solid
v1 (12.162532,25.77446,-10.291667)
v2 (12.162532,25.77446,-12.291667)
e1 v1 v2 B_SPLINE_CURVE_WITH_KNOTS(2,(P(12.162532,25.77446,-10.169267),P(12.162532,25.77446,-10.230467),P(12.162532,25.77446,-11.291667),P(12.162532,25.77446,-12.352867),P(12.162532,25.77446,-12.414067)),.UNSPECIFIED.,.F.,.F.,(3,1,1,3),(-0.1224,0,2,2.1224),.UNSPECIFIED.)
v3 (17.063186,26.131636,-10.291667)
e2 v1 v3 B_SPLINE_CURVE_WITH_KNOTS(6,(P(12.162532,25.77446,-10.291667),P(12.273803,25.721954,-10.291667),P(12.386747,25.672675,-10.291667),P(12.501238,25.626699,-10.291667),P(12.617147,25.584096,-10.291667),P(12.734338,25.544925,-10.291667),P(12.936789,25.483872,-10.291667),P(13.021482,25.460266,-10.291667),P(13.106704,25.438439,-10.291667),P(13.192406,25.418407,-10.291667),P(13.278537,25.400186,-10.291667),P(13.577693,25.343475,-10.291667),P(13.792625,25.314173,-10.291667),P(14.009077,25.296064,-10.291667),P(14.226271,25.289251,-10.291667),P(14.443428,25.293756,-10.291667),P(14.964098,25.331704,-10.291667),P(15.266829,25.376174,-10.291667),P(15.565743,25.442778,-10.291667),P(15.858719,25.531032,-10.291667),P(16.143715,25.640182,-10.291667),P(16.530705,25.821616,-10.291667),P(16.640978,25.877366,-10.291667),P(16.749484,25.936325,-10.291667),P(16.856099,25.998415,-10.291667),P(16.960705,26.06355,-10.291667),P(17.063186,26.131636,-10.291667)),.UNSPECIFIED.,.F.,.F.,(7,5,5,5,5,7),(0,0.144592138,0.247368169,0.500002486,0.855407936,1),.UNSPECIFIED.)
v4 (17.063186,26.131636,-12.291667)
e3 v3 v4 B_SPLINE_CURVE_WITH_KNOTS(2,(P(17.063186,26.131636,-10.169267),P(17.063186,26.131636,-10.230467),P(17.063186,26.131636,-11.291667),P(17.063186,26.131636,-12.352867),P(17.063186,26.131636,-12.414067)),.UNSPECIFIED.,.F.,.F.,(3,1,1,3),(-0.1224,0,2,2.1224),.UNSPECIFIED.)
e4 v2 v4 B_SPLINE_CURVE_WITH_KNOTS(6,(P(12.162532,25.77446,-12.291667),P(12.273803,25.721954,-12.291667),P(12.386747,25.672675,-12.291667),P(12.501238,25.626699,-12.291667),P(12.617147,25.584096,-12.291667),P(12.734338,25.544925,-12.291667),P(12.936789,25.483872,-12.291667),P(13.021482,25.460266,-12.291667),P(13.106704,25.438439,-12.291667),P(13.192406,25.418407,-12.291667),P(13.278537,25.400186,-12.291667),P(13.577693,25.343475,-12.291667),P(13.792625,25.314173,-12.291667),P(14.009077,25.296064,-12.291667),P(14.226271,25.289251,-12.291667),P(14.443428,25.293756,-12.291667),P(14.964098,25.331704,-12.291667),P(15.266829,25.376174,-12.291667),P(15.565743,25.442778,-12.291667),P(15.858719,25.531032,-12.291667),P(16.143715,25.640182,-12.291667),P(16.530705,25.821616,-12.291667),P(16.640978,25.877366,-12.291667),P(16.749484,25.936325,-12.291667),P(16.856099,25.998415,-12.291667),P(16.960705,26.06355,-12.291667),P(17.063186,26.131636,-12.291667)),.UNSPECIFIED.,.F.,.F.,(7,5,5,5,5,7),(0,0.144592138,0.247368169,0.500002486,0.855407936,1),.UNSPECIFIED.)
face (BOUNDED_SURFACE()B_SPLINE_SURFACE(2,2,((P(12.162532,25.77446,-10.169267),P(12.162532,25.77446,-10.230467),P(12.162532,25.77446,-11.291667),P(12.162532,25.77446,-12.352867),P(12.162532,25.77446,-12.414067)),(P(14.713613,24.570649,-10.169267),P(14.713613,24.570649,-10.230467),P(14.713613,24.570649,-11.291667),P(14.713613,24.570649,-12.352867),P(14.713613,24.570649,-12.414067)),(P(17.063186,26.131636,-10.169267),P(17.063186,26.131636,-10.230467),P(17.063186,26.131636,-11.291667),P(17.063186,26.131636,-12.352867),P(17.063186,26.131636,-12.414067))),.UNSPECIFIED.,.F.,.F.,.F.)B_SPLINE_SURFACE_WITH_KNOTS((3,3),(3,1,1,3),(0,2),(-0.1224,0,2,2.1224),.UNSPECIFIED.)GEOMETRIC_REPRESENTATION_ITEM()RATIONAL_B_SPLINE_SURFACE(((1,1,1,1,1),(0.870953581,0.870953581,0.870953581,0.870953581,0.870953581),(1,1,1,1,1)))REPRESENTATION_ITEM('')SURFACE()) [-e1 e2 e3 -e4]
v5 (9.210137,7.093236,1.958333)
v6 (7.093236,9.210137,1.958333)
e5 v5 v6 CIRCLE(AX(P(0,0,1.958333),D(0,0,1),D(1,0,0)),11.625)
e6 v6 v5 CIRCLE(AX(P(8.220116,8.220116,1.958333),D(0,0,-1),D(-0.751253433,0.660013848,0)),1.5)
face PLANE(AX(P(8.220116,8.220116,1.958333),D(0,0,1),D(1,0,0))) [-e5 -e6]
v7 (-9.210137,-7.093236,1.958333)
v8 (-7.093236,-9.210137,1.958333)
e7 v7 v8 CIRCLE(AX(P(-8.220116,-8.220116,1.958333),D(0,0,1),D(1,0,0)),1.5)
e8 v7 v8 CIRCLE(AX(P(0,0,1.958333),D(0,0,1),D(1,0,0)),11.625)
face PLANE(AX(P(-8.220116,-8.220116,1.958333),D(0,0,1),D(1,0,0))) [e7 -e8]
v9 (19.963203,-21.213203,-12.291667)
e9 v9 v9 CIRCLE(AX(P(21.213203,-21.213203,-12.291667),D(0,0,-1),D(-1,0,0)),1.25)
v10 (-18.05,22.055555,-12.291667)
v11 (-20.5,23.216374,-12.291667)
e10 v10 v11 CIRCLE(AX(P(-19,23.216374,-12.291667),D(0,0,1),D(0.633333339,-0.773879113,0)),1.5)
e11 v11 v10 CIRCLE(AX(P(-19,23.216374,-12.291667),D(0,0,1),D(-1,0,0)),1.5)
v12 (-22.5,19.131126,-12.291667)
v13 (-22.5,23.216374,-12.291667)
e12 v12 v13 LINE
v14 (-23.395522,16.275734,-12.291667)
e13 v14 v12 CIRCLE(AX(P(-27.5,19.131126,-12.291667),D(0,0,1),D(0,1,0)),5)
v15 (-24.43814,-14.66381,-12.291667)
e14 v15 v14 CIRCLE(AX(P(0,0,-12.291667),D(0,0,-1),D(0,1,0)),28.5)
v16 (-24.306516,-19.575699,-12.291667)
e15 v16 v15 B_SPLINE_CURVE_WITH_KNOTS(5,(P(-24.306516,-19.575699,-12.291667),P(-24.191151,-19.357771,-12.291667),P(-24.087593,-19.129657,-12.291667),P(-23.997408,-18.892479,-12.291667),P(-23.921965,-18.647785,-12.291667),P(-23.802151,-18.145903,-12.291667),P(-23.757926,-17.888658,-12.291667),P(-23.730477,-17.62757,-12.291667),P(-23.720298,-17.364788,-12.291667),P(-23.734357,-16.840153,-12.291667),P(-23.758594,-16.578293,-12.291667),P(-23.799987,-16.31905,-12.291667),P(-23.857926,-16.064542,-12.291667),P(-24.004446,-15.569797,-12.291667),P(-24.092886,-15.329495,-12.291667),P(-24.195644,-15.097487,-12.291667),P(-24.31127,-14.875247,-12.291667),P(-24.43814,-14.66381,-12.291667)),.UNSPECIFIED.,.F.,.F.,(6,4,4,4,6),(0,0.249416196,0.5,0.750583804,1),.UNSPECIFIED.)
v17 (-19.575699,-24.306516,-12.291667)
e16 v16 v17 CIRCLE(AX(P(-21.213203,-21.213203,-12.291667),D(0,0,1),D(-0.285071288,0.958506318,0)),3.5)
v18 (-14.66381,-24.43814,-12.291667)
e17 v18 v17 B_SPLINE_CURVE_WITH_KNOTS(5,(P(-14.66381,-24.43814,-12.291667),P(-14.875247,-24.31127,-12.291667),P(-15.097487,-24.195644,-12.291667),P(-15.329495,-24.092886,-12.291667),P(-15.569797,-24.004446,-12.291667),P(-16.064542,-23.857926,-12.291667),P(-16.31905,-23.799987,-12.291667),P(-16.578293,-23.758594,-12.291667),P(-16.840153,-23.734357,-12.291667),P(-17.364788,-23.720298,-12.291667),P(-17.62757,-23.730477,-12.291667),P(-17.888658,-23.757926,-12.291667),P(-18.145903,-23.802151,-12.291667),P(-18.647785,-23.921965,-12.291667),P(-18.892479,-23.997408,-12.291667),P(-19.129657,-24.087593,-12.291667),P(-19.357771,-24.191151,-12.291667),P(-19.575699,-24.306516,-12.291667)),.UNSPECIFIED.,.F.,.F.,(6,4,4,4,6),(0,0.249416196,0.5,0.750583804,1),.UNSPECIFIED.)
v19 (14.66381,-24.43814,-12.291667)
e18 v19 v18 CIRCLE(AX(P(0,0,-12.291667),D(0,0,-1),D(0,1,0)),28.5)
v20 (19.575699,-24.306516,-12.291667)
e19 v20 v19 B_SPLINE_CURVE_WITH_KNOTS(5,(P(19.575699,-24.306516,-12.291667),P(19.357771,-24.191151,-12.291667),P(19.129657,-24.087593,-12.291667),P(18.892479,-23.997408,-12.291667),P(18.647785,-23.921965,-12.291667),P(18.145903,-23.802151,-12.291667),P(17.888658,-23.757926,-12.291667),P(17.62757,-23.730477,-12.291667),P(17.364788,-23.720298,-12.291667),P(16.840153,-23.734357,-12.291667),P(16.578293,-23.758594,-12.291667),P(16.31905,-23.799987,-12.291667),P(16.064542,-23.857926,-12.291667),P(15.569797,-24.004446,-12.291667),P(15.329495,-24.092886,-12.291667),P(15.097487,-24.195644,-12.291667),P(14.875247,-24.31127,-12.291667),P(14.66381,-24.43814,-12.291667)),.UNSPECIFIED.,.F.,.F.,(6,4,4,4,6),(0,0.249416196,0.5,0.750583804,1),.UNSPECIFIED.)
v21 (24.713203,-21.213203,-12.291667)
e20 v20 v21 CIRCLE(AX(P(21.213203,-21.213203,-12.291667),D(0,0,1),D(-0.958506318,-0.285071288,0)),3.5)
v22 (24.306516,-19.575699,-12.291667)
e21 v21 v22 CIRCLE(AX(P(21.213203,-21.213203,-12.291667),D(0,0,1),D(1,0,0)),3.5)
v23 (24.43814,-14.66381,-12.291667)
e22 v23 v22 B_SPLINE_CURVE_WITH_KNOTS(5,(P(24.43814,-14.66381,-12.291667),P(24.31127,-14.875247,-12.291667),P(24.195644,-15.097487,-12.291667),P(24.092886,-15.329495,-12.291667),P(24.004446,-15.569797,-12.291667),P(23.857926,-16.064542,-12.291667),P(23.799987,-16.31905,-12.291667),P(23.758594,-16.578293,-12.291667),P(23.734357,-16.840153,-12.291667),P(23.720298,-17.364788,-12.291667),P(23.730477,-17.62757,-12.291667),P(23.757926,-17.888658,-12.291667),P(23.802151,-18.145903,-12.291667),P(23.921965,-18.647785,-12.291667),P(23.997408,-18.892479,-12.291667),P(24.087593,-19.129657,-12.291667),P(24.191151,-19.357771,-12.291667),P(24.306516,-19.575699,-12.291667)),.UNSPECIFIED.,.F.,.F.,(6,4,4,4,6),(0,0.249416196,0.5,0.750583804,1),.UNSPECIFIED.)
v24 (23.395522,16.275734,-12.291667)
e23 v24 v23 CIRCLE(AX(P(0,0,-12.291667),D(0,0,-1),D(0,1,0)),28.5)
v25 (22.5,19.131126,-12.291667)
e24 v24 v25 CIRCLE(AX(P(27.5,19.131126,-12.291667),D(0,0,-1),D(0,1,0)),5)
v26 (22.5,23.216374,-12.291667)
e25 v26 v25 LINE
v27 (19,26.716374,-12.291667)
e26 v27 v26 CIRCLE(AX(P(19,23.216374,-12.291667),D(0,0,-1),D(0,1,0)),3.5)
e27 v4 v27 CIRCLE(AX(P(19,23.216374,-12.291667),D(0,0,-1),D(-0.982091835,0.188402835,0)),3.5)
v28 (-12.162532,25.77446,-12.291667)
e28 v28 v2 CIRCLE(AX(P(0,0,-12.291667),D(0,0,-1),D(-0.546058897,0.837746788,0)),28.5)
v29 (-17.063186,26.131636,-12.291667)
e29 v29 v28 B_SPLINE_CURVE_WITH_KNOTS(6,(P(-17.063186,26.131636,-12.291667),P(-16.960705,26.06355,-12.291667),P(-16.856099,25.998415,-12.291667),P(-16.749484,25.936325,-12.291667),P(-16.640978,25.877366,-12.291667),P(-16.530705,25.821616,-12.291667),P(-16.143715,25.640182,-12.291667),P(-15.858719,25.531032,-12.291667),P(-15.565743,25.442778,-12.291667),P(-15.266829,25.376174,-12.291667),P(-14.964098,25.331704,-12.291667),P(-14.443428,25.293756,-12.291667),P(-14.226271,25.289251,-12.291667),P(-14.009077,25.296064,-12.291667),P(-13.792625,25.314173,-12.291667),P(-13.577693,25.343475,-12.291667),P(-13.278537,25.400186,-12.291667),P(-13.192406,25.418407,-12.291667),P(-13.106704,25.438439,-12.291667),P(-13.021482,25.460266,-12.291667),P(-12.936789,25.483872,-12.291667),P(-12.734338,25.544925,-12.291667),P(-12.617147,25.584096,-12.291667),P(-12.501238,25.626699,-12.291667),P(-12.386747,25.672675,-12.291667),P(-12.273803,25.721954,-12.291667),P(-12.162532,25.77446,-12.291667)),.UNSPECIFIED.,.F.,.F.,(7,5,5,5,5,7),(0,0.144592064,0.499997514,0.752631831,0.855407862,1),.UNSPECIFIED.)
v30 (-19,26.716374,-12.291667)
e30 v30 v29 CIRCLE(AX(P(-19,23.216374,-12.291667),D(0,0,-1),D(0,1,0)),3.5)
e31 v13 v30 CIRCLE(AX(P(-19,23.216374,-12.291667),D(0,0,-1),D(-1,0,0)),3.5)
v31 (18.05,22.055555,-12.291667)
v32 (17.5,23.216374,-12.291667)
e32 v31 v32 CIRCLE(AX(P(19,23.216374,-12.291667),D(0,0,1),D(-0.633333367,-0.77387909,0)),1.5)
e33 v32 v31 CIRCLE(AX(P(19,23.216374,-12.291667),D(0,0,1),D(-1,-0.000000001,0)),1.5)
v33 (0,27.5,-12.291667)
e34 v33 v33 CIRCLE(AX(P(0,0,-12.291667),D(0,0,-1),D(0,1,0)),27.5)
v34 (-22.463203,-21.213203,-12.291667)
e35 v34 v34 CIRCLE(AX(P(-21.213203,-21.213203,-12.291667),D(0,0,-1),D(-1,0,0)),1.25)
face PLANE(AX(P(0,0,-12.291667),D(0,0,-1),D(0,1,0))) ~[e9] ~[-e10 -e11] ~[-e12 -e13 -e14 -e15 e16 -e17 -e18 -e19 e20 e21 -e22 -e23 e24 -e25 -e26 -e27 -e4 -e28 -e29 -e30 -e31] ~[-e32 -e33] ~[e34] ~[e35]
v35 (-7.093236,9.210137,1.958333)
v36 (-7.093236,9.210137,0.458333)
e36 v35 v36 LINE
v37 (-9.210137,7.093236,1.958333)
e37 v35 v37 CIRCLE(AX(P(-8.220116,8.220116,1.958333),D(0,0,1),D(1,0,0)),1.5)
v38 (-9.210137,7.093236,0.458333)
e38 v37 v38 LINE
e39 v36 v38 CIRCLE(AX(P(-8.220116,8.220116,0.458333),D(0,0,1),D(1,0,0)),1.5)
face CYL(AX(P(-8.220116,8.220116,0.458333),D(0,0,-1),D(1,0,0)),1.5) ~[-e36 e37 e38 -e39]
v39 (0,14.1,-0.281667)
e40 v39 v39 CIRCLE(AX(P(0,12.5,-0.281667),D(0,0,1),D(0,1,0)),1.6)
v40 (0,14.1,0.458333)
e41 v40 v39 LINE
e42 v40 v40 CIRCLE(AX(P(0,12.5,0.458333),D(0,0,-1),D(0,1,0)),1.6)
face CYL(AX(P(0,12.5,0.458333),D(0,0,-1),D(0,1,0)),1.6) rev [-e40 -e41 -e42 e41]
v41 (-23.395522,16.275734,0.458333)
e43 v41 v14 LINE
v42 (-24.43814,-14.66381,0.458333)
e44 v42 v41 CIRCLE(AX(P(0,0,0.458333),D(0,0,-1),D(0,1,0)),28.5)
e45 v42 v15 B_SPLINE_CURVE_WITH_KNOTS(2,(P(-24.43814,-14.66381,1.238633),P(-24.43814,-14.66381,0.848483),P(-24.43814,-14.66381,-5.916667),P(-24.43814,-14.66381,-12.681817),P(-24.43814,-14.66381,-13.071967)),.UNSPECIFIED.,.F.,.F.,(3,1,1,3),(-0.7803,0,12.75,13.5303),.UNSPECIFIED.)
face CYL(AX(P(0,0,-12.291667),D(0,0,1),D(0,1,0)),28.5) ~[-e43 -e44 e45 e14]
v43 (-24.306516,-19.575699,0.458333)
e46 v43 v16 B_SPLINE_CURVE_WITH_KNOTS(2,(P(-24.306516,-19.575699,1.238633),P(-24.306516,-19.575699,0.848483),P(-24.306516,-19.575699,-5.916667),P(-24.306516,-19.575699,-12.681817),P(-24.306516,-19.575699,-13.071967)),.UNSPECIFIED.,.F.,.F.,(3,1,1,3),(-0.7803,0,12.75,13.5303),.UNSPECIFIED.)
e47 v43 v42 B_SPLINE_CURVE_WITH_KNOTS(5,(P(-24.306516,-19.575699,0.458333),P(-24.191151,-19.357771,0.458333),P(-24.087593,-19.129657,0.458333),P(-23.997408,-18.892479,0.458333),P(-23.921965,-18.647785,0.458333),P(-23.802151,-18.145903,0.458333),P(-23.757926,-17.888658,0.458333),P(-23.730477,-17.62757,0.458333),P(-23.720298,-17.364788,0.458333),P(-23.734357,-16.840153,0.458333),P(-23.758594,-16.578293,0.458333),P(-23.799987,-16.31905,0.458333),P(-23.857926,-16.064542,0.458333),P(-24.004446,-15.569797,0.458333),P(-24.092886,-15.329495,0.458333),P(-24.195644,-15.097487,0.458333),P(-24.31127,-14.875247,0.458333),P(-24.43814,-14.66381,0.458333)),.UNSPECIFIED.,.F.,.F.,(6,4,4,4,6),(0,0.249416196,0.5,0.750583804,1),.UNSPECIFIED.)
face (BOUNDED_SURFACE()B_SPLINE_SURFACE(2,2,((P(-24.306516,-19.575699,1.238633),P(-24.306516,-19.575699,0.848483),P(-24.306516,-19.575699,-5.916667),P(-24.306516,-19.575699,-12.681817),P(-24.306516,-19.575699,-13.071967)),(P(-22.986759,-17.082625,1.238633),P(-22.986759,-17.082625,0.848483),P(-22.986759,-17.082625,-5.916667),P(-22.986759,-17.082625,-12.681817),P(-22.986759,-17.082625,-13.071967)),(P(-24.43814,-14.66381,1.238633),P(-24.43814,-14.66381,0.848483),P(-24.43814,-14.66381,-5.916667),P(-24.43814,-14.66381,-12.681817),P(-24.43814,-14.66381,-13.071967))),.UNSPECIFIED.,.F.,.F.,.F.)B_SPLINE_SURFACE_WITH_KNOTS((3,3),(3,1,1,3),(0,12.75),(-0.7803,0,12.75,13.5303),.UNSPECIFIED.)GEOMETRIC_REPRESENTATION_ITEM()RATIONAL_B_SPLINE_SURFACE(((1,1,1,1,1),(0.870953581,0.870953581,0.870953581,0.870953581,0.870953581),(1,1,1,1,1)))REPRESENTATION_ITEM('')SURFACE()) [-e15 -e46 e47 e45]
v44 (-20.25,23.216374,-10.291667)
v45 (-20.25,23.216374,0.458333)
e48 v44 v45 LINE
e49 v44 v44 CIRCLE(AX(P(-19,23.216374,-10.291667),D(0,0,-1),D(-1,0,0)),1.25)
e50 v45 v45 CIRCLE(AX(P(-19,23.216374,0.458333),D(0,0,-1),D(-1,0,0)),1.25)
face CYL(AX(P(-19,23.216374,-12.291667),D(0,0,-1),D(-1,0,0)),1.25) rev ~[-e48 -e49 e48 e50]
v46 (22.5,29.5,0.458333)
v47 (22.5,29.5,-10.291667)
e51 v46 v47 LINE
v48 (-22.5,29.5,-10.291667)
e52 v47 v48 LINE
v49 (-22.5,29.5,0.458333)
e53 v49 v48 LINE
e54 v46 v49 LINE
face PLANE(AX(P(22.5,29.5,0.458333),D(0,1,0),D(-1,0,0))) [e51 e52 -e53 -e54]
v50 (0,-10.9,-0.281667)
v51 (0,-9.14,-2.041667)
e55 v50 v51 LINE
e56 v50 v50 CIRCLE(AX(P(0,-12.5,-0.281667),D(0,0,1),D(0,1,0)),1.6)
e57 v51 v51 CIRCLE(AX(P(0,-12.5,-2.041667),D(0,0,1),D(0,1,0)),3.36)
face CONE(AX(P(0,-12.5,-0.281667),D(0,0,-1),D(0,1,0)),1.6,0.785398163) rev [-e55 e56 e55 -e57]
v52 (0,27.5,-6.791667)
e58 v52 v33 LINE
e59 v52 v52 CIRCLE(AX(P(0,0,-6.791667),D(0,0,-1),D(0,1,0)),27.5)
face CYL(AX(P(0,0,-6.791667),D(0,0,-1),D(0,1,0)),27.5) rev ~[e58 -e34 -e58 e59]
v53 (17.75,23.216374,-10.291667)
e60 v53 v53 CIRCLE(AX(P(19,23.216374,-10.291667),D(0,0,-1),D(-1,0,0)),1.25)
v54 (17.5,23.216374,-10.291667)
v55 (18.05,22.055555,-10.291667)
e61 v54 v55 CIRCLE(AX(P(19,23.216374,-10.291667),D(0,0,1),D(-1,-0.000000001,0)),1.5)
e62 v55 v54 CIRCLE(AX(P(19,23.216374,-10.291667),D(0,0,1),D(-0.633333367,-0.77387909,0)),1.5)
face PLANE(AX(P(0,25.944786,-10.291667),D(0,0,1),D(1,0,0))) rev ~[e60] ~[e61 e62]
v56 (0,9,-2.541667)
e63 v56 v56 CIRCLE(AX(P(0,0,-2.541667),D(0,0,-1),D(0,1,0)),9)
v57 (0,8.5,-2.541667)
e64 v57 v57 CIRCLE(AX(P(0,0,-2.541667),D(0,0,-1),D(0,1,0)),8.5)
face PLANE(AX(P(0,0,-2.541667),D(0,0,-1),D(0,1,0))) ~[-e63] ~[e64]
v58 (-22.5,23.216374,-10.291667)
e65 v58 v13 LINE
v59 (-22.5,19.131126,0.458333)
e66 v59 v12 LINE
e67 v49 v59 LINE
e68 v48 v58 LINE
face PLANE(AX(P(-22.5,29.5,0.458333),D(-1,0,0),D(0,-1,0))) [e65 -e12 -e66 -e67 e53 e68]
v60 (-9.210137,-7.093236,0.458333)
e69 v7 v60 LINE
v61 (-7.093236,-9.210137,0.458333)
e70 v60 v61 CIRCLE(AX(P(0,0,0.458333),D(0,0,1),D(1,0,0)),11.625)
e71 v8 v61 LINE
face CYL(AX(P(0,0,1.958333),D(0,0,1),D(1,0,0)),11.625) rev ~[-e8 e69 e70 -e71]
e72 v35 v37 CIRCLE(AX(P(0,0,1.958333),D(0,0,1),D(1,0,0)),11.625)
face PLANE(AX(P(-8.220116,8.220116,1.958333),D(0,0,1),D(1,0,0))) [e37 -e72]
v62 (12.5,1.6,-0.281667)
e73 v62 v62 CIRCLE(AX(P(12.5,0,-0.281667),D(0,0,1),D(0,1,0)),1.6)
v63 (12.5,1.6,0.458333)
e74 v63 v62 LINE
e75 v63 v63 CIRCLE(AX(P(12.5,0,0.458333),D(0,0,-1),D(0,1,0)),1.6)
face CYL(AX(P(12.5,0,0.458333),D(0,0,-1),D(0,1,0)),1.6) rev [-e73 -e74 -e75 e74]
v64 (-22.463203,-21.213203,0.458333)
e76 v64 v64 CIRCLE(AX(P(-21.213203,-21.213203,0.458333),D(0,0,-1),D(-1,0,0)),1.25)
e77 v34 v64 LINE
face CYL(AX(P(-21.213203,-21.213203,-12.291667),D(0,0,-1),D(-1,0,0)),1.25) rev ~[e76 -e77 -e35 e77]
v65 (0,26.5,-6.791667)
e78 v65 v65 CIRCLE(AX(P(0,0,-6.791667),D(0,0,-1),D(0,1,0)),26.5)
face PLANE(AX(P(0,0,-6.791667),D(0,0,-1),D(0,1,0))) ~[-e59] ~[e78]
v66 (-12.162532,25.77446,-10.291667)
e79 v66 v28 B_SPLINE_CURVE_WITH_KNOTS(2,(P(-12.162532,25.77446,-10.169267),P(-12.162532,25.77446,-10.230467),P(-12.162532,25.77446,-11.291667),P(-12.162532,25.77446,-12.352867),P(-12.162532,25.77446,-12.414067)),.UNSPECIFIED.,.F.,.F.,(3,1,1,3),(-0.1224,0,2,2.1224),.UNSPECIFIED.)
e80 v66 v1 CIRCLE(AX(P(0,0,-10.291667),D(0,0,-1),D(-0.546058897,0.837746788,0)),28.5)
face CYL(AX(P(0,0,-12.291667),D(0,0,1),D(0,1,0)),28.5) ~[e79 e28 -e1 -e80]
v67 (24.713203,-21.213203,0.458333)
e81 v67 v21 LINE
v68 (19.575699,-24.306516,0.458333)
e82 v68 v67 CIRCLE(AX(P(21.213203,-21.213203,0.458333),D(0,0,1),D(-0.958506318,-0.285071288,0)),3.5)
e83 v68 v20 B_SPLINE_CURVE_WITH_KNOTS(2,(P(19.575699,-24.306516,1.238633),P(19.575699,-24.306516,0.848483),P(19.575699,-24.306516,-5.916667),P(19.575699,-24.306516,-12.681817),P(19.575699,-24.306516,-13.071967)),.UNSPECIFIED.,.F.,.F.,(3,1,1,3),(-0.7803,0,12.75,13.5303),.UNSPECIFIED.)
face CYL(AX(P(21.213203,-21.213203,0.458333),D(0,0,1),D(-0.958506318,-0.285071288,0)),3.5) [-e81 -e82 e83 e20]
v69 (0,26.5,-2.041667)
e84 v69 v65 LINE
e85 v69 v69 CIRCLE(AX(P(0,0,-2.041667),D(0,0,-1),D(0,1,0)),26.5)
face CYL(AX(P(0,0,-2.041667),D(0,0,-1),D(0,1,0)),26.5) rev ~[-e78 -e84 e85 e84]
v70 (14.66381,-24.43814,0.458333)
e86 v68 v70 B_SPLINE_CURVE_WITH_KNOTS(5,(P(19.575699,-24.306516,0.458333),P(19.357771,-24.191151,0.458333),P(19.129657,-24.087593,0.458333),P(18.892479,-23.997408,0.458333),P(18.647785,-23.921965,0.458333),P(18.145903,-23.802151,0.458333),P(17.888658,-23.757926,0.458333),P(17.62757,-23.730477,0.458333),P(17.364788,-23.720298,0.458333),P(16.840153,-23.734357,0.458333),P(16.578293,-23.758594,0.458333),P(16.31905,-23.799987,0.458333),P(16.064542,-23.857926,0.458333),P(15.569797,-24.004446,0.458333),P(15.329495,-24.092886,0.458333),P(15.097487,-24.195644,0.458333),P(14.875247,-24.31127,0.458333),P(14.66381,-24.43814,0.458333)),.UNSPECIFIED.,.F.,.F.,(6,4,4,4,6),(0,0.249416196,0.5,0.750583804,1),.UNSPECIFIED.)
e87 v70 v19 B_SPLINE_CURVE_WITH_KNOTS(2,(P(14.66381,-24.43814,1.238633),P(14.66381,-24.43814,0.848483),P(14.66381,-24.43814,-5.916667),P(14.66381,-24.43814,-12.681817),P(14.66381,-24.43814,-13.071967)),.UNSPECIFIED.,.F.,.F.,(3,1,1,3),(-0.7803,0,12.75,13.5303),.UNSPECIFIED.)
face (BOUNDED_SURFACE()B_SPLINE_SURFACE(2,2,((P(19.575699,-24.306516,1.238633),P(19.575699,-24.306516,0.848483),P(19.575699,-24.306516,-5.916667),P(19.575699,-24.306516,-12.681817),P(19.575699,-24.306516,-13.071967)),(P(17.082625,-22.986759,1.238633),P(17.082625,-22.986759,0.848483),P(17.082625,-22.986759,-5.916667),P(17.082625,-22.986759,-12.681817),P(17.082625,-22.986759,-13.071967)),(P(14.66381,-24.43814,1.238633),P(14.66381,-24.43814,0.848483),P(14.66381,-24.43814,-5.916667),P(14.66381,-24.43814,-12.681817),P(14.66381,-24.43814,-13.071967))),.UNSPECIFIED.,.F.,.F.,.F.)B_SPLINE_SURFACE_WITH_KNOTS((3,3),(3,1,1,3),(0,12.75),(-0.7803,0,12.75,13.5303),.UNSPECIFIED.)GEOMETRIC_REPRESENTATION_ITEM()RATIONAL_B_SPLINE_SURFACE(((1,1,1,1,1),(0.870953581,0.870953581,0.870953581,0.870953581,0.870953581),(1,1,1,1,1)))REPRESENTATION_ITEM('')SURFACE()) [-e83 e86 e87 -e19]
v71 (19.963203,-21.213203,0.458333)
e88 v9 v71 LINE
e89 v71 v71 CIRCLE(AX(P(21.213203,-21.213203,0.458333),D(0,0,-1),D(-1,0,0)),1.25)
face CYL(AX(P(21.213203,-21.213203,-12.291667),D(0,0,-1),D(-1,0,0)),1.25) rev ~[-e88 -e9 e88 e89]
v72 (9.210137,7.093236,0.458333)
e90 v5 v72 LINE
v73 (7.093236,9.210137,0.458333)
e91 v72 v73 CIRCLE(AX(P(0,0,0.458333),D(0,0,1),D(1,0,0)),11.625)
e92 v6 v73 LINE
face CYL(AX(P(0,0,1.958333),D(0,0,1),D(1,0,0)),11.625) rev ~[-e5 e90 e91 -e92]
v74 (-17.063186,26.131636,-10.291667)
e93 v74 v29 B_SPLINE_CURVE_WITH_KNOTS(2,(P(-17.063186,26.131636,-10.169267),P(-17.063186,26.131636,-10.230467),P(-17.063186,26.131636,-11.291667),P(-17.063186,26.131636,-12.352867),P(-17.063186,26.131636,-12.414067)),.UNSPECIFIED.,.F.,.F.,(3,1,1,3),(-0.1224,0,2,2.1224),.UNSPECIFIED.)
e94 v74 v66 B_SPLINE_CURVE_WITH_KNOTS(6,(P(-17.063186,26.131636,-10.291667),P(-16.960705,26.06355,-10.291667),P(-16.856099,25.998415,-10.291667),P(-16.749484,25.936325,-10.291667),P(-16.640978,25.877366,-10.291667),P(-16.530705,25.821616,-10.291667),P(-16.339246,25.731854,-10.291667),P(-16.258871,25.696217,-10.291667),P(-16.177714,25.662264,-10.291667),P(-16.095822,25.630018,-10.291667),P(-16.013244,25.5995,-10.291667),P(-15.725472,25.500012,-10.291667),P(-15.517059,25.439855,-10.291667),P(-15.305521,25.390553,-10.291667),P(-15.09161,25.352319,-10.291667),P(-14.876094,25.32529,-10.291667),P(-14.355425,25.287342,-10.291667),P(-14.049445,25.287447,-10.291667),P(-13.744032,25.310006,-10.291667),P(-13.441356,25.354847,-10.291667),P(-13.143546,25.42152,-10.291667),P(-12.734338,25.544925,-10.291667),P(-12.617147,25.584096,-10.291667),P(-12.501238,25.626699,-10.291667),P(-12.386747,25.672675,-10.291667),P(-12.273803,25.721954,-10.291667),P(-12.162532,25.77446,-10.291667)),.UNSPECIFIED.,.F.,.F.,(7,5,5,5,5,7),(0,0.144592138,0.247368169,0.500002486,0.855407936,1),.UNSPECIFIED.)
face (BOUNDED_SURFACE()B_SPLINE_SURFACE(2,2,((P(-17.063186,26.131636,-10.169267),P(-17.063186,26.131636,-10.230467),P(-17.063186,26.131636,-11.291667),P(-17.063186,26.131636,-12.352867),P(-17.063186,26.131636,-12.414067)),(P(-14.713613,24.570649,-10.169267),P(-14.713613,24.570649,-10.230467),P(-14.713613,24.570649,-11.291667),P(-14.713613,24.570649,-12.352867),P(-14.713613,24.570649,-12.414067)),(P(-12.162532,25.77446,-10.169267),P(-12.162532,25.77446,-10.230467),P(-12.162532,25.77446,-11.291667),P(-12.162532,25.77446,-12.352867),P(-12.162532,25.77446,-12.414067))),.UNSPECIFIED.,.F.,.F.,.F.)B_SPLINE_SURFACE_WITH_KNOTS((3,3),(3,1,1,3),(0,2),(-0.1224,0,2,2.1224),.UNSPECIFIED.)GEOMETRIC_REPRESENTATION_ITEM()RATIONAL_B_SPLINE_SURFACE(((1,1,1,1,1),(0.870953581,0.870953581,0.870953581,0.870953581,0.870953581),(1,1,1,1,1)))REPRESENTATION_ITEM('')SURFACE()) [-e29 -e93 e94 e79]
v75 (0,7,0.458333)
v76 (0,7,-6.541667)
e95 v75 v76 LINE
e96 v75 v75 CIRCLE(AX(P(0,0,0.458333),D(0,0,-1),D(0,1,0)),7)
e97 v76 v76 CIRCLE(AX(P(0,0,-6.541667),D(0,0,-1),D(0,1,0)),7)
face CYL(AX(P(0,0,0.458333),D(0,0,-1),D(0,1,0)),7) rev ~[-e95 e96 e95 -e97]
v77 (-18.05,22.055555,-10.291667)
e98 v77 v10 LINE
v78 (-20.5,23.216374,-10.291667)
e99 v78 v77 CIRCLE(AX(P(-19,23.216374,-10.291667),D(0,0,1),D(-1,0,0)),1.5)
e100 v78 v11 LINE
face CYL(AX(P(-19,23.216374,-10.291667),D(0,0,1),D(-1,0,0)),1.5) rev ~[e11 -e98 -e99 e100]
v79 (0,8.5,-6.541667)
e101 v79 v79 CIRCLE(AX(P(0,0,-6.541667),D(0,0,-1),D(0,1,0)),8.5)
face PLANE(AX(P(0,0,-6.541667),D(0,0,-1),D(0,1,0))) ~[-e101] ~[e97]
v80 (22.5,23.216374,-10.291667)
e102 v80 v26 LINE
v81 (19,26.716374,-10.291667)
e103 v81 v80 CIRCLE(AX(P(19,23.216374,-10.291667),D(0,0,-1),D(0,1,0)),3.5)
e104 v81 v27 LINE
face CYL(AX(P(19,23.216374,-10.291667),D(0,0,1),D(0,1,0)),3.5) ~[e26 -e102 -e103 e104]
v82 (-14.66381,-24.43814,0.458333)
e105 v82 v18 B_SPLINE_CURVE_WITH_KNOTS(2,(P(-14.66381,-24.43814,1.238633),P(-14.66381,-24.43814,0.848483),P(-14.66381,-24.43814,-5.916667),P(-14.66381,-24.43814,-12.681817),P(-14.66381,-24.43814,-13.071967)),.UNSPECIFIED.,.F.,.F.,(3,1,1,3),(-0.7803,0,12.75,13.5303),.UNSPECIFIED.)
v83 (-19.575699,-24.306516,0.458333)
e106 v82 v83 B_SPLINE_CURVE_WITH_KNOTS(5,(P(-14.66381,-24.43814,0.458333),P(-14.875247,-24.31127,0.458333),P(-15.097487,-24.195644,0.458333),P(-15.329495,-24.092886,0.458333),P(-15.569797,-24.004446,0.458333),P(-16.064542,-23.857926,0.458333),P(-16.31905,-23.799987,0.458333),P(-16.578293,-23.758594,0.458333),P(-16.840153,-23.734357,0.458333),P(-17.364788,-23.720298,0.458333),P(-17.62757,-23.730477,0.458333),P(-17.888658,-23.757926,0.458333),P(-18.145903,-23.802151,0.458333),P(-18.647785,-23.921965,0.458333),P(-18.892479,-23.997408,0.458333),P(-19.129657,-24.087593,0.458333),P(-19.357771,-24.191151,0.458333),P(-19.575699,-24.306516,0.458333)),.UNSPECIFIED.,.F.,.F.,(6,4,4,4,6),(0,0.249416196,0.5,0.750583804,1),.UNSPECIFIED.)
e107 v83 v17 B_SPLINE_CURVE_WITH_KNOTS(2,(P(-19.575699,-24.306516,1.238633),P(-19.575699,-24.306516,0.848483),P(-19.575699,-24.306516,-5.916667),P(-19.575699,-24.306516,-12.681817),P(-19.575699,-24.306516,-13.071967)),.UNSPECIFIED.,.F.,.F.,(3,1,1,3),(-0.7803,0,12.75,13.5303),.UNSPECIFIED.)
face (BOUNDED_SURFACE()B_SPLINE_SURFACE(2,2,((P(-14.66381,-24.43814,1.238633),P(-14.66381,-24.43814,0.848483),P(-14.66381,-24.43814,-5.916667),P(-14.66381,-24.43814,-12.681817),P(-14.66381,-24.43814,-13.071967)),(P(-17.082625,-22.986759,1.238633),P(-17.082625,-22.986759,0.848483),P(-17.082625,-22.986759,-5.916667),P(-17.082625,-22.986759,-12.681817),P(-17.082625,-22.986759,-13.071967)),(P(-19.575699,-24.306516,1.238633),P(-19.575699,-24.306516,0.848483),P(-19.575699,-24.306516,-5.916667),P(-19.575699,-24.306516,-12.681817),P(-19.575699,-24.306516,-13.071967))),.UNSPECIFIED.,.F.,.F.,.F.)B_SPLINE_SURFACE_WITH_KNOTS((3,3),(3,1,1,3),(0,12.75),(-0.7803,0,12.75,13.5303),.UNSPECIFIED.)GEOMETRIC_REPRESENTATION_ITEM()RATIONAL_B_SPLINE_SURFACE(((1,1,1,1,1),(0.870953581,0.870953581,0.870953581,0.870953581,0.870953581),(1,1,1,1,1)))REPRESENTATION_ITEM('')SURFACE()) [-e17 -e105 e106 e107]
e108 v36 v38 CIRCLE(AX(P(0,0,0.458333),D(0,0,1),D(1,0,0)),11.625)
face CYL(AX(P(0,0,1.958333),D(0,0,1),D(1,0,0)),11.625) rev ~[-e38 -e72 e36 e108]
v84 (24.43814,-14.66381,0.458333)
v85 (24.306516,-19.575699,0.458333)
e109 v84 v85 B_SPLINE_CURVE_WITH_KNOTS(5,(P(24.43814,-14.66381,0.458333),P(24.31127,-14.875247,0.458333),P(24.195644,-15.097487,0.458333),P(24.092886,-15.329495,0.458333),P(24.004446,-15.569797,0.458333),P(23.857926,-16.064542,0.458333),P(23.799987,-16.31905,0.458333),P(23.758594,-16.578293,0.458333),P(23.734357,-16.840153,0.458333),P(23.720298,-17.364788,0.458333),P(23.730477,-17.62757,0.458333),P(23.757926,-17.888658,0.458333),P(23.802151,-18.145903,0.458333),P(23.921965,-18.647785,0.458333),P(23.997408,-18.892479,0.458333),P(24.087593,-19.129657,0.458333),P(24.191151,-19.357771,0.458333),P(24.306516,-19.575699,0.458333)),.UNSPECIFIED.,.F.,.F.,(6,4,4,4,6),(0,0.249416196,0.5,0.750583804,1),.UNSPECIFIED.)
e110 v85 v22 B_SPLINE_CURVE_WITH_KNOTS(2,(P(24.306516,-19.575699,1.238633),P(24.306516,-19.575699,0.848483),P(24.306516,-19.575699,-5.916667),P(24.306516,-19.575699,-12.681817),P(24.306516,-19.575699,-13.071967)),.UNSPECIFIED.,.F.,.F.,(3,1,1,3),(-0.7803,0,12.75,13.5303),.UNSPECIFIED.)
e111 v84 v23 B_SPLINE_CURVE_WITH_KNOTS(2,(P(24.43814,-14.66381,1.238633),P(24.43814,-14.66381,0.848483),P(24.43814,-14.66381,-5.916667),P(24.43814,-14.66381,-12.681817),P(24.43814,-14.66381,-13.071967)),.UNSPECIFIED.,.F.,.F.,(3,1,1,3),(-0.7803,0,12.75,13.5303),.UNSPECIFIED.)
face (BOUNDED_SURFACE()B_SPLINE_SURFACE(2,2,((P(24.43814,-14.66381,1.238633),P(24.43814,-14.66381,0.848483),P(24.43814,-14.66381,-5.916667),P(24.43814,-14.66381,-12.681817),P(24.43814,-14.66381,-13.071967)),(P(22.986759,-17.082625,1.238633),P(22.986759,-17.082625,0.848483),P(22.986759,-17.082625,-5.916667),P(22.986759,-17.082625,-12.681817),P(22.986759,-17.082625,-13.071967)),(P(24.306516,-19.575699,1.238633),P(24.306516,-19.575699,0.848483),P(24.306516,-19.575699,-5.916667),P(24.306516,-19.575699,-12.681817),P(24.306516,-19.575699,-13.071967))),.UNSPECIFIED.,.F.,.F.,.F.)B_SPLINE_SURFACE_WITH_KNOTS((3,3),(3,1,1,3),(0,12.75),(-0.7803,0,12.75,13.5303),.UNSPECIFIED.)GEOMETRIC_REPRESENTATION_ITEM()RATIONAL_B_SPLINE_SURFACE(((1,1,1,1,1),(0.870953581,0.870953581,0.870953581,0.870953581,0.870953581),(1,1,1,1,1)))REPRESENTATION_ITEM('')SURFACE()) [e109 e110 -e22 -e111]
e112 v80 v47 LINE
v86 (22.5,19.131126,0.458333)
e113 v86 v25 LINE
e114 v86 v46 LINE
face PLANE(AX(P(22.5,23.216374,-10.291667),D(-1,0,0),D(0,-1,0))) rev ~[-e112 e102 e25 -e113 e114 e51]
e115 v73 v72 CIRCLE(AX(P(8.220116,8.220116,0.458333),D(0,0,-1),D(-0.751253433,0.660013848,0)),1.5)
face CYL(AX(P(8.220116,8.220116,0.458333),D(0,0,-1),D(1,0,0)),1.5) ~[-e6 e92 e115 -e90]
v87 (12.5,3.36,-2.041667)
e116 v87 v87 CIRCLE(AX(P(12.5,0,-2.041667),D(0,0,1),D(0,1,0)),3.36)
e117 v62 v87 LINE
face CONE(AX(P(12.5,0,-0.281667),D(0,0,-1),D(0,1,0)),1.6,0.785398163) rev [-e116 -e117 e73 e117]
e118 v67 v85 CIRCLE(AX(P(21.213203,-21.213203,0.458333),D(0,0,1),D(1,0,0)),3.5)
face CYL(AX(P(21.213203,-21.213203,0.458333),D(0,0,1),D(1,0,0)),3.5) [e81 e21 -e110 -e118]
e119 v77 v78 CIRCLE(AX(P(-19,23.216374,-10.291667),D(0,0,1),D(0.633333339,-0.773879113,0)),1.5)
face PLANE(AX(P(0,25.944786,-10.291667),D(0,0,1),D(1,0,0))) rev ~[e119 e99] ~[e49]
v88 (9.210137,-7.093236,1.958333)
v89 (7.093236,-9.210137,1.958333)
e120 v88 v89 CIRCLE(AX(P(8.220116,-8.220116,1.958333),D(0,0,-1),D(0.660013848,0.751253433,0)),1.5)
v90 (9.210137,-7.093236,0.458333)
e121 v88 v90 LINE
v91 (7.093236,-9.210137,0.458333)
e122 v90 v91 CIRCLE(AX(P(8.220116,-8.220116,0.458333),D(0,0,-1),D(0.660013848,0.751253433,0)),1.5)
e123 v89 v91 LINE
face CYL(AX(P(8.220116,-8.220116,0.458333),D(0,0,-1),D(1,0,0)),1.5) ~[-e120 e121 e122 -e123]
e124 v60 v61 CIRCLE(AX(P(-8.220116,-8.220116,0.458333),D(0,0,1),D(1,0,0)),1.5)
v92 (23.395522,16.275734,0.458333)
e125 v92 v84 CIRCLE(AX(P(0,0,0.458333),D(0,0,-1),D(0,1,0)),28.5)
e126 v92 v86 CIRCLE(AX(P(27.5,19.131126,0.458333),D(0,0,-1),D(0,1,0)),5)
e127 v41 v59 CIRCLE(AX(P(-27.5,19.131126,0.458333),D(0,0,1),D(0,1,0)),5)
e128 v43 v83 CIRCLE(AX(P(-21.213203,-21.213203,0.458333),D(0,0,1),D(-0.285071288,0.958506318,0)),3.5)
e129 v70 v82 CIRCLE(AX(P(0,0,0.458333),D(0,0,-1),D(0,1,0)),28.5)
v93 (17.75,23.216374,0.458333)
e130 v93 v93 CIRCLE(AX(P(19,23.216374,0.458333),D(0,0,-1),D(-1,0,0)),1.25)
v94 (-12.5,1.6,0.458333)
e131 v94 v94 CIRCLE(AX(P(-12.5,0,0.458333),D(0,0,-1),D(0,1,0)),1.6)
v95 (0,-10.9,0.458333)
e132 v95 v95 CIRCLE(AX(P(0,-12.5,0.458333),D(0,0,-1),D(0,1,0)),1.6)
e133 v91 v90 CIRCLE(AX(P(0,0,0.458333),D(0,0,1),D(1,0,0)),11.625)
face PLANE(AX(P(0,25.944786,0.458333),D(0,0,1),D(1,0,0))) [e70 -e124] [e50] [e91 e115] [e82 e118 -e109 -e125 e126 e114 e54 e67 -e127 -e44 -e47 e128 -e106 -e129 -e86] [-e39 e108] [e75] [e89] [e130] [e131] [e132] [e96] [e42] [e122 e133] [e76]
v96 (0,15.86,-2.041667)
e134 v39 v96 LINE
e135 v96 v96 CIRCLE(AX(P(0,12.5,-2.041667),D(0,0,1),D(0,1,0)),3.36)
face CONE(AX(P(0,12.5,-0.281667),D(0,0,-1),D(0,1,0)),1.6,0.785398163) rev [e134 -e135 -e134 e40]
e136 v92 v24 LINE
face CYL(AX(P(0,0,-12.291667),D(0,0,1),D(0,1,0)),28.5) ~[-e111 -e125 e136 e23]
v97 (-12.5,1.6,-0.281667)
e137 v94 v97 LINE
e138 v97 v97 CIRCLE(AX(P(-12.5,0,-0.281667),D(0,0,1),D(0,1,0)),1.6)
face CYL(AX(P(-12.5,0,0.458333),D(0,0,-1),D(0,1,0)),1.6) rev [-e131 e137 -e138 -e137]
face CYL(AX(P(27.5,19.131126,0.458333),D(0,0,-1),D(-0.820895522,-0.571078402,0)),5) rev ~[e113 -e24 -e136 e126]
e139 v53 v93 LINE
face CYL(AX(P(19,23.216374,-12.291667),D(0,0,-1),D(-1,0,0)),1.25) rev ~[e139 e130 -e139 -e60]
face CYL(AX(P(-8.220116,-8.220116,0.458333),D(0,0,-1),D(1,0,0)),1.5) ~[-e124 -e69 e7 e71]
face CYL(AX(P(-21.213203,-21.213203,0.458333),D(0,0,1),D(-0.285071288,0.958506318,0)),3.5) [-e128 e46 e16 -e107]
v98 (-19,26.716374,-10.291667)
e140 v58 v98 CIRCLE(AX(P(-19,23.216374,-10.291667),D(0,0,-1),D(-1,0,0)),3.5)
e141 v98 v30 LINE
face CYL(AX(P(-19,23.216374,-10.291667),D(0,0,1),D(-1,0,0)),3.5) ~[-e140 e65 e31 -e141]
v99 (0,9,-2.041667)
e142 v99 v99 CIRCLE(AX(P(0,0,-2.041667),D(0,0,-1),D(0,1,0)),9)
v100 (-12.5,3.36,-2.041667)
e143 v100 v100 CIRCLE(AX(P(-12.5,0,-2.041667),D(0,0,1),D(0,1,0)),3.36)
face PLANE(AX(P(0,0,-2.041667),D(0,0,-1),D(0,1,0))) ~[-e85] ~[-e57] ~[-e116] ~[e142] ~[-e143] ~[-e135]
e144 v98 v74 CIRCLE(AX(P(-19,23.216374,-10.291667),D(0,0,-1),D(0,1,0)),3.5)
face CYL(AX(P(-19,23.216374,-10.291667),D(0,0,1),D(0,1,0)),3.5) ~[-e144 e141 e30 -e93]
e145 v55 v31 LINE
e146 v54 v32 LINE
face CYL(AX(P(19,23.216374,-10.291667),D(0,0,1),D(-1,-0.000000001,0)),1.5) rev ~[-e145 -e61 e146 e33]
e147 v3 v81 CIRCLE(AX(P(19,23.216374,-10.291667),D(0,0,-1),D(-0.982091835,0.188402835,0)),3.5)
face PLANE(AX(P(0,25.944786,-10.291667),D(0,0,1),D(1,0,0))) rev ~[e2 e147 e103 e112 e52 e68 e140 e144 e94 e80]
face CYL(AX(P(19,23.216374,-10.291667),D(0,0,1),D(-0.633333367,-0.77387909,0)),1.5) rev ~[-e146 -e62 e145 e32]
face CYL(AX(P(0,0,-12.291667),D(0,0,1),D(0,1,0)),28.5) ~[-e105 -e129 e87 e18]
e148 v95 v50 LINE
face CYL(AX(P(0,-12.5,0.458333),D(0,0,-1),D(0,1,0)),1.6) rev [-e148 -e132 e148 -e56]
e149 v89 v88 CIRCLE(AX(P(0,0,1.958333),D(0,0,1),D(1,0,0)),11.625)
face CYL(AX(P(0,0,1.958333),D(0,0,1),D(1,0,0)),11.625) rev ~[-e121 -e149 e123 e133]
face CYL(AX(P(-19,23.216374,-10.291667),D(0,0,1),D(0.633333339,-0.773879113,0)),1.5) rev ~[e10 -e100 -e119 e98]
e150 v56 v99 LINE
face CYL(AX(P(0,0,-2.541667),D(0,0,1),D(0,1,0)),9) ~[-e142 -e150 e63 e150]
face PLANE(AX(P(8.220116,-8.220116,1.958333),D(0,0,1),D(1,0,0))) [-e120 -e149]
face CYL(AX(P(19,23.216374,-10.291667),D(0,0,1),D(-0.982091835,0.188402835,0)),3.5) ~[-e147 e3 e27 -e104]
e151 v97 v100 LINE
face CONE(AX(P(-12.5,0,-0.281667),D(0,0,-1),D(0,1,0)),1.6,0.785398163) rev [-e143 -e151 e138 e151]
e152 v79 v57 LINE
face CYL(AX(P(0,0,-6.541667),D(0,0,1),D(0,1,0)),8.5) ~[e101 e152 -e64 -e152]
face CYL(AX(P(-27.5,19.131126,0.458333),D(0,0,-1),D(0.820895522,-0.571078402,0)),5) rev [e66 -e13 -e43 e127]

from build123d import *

# Parameters (mm, degrees)
CSK_FOR_M3_SFHCS1_AT_2_COUNT = 2
CSK_FOR_M3_SFHCS1_AT_2_PITCH = 17.67766953
CSK_FOR_M3_SFHCS1_AT_3_COUNT = 2
CSK_FOR_M3_SFHCS1_AT_3_PITCH = 25
CSK_FOR_M3_SFHCS1_AT_4_COUNT = 2
CSK_FOR_M3_SFHCS1_AT_4_PITCH = 17.67766953
BOSS_EXTRUDE3_DEPTH          = 10.75
BOSS_EXTRUDE7_DEPTH          = 2
FILLET6_R                    = 5
SKETCH14_R                   = 1.25
CUT_EXTRUDE2_DEPTH           = 13.75
BOSS_EXTRUDE8_DEPTH          = 12.75
SKETCH16_R                   = 1.25
CUT_EXTRUDE3_DEPTH           = 13.75
FILLET8_R                    = 5
SKETCH17_R                   = 1.5
BOSS_EXTRUDE9_DEPTH          = 1.5
SKETCH20_R                   = 11.625
CUT_EXTRUDE4_DEPTH           = 1.5


with BuildPart() as part:
    # Sketch1 → Revolve1 (revolve)
    with BuildSketch(Plane(origin=(0, 0, 0), x_dir=(0, 0, -1), z_dir=(1, 0, 0))):
        Polygon((5.929940933, 28.5), (-0.458333333, 28.5), (-0.458333333, 17.5), (-0.458333333, 7), (6.541666667, 7), (6.541666667, 8.5), (2.541666667, 8.5), (2.541666667, 9), (2.041666667, 9), (2.041666667, 15), (2.041666667, 26.5), (6.791666667, 26.5), (6.791666667, 27.5), (12.291666667, 27.5), (12.291666667, 28.5), align=None)
    revolve(axis=Axis((0, 0, 0), (0, 0, -1)))

    # Sketch3 → CSK for M3 SFHCS1 (revolve, cut)
    with BuildSketch(Plane(origin=(0, 12.5, -2.041666667), x_dir=(0, 1, 0), z_dir=(1, 0, 0))):
        Polygon((0, 0), (0, 2.5), (1.6, 2.5), (1.6, 1.76), (3.36, 0), align=None)
    csk_for_m3_sfhcs1 = revolve(axis=Axis((0, 12.5, -8.391666667), (0, 0, 1)), mode=Mode.SUBTRACT)

    # CSK for M3 SFHCS1 at 2: CSK for M3 SFHCS1 ×2
    with Locations(*[Vector(-0.707106781, -0.707106781, 0) * (i * CSK_FOR_M3_SFHCS1_AT_2_PITCH) for i in range(1, CSK_FOR_M3_SFHCS1_AT_2_COUNT)]):
        add(csk_for_m3_sfhcs1, mode=Mode.SUBTRACT)

    # CSK for M3 SFHCS1 at 3: CSK for M3 SFHCS1 ×2
    with Locations(*[(0, -i * CSK_FOR_M3_SFHCS1_AT_3_PITCH, 0) for i in range(1, CSK_FOR_M3_SFHCS1_AT_3_COUNT)]):
        add(csk_for_m3_sfhcs1, mode=Mode.SUBTRACT)

    # CSK for M3 SFHCS1 at 4: CSK for M3 SFHCS1 ×2
    with Locations(*[Vector(0.707106781, -0.707106781, 0) * (i * CSK_FOR_M3_SFHCS1_AT_4_PITCH) for i in range(1, CSK_FOR_M3_SFHCS1_AT_4_COUNT)]):
        add(csk_for_m3_sfhcs1, mode=Mode.SUBTRACT)

    # Sketch11 → Boss-Extrude3 (add)
    with BuildSketch(Plane.XY.offset(0.458333333)):
        with BuildLine():
            Line((-22.5, 29.5), (-22.5, 17.492855685))
            ThreePointArc((-22.5, 17.492855685), (0, 28.5), (22.5, 17.492855685))
            Line((22.5, 17.492855685), (22.5, 29.5))
            Line((22.5, 29.5), (-22.5, 29.5))
        make_face()
    extrude(amount=-BOSS_EXTRUDE3_DEPTH)

    # Sketch12 → Boss-Extrude7 (add)
    with BuildSketch(Plane(origin=(0, 0, -10.291666667), x_dir=(-1, 0, 0), z_dir=(0, 0, -1))):
        with BuildLine():
            ThreePointArc((-18.04999995, 22.055554897), (-19.216219586, 21.047254092), (-20.326210311, 19.977366553))
            ThreePointArc((-20.326210311, 19.977366553), (-19.921854076, 19.839957524), (-19.503772735, 19.752818562))
            ThreePointArc((-19.503772735, 19.752818562), (-17.580801654, 21.482234642), (-15.505225986, 23.02518098))
            ThreePointArc((-15.505225986, 23.02518098), (-15.50130674, 23.120741552), (-15.5, 23.216373532))
            ThreePointArc((-15.5, 23.216373532), (-15.515704879, 23.547564583), (-15.562678578, 23.875783453))
            ThreePointArc((-15.562678578, 23.875783453), (-16.830963949, 22.999318523), (-18.04999995, 22.055554897))
        make_face()
        with BuildLine():
            ThreePointArc((-19, 26.716373532), (-21.474873734, 25.691247267), (-22.5, 23.216373532))
            ThreePointArc((-22.5, 23.216373532), (-21.906177566, 21.265955127), (-20.326210311, 19.977366553))
            ThreePointArc((-20.326210311, 19.977366553), (-19.216219586, 21.047254092), (-18.04999995, 22.055554897))
            ThreePointArc((-18.04999995, 22.055554897), (-16.830963949, 22.999318523), (-15.562678578, 23.875783453))
            ThreePointArc((-15.562678578, 23.875783453), (-16.77041873, 25.914329677), (-19, 26.716373532))
        make_face()
        with BuildLine():
            ThreePointArc((-17.5, 23.216373532), (-17.644455815, 22.574111933), (-18.04999995, 22.055554897))
            ThreePointArc((-18.04999995, 22.055554897), (-20.355544185, 23.858635132), (-17.5, 23.216373532))
        make_face(mode=Mode.SUBTRACT)
        with BuildLine():
            ThreePointArc((-20.326210311, 19.977366553), (-21.906177566, 21.265955127), (-22.5, 23.216373532))
            Line((-22.5, 23.216373532), (-22.5, 17.492855685))
            ThreePointArc((-22.5, 17.492855685), (-21.449108862, 18.766612082), (-20.326210311, 19.977366553))
        make_face()
        with BuildLine():
            ThreePointArc((18.049999991, 22.055554863), (16.830963971, 22.999318508), (15.562678578, 23.875783453))
            ThreePointArc((15.562678578, 23.875783453), (15.507956483, 23.452238061), (15.505225986, 23.02518098))
            ThreePointArc((15.505225986, 23.02518098), (17.580801654, 21.482234642), (19.503772735, 19.752818562))
            ThreePointArc((19.503772735, 19.752818562), (19.921854076, 19.839957524), (20.326210311, 19.977366553))
            ThreePointArc((20.326210311, 19.977366553), (19.216219606, 21.047254074), (18.049999991, 22.055554863))
        make_face()
        with BuildLine():
            ThreePointArc((22.5, 23.216373532), (21.474873734, 25.691247267), (19, 26.716373532))
            ThreePointArc((19, 26.716373532), (16.77041873, 25.914329677), (15.562678578, 23.875783453))
            ThreePointArc((15.562678578, 23.875783453), (16.830963971, 22.999318508), (18.049999991, 22.055554863))
            ThreePointArc((18.049999991, 22.055554863), (19.216219606, 21.047254074), (20.326210311, 19.977366553))
            ThreePointArc((20.326210311, 19.977366553), (21.906177566, 21.265955127), (22.5, 23.216373532))
        make_face()
        with BuildLine():
            ThreePointArc((20.5, 23.216373532), (19.642261624, 21.860829359), (18.049999991, 22.055554863))
            ThreePointArc((18.049999991, 22.055554863), (18.357738376, 24.571917706), (20.5, 23.216373532))
        make_face(mode=Mode.SUBTRACT)
        with BuildLine():
            ThreePointArc((20.326210311, 19.977366553), (21.449108862, 18.766612082), (22.5, 17.492855685))
            Line((22.5, 17.492855685), (22.5, 23.216373532))
            ThreePointArc((22.5, 23.216373532), (21.906177566, 21.265955127), (20.326210311, 19.977366553))
        make_face()
    extrude(amount=BOSS_EXTRUDE7_DEPTH)

    # Fillet6
    fillet6_edges = [part.edges().sort_by_distance(p)[0] for p in [
        (-15.562678578, 23.875783453, -11.291666667),
        (22.5, 17.492855685, -5.916666667),
        (-22.5, 17.492855685, -5.916666667),
        (15.562678578, 23.875783453, -11.291666667),
    ]]
    fillet(fillet6_edges, radius=FILLET6_R)

    # Sketch14 → Cut-Extrude2 (cut, through all)
    with BuildSketch(Plane(origin=(0, 0, -12.291666667), x_dir=(-1, 0, 0), z_dir=(0, 0, -1))):
        with Locations((-19, 23.216373532)):
            Circle(SKETCH14_R)
        with Locations((19, 23.216373532)):
            Circle(SKETCH14_R)
    extrude(amount=-CUT_EXTRUDE2_DEPTH, mode=Mode.SUBTRACT)

    # Sketch15 → Boss-Extrude8 (add)
    with BuildSketch(Plane.XY.offset(0.458333333)):
        with BuildLine():
            ThreePointArc((17.858431324, -22.210952943), (21.717335169, -24.676706171), (24.713203436, -21.213203436))
            ThreePointArc((24.713203436, -21.213203436), (24.018744674, -19.120612133), (22.210952943, -17.858431324))
            ThreePointArc((22.210952943, -17.858431324), (20.152543264, -20.152543264), (17.858431324, -22.210952943))
        make_face()
        with BuildLine():
            ThreePointArc((-22.210952943, -17.858431324), (-23.68807717, -23.68807717), (-17.858431324, -22.210952943))
            ThreePointArc((-17.858431324, -22.210952943), (-20.152543264, -20.152543264), (-22.210952943, -17.858431324))
        make_face()
    extrude(amount=-BOSS_EXTRUDE8_DEPTH)

    # Sketch16 → Cut-Extrude3 (cut, through all)
    with BuildSketch(Plane(origin=(0, 0, -12.291666667), x_dir=(-1, 0, 0), z_dir=(0, 0, -1))):
        with Locations((-21.213203436, -21.213203436)):
            Circle(SKETCH16_R)
        with Locations((21.213203436, -21.213203436)):
            Circle(SKETCH16_R)
    extrude(amount=-CUT_EXTRUDE3_DEPTH, mode=Mode.SUBTRACT)

    # Fillet8
    fillet8_edges = [part.edges().sort_by_distance(p)[0] for p in [
        (17.858431324, -22.210952943, -5.916666667),
        (22.210952943, -17.858431324, -5.916666667),
        (-22.210952943, -17.858431324, -5.916666667),
        (-17.858431324, -22.210952943, -5.916666667),
    ]]
    fillet(fillet8_edges, radius=FILLET8_R)

    # Sketch17 → Boss-Extrude9 (add)
    with BuildSketch(Plane.XY.offset(0.458333333)):
        with Locations((8.220116331, 8.220116331)):
            Circle(SKETCH17_R)
        with Locations((8.220116331, -8.220116331)):
            Circle(SKETCH17_R)
        with Locations((-8.220116331, -8.220116331)):
            Circle(SKETCH17_R)
        with Locations((-8.220116331, 8.220116331)):
            Circle(SKETCH17_R)
    extrude(amount=BOSS_EXTRUDE9_DEPTH)

    # Sketch20 → Cut-Extrude4 (cut)
    with BuildSketch(Plane.XY.offset(1.958333333)):
        Circle(SKETCH20_R)
    extrude(amount=-CUT_EXTRUDE4_DEPTH, mode=Mode.SUBTRACT)


solid = part.part
